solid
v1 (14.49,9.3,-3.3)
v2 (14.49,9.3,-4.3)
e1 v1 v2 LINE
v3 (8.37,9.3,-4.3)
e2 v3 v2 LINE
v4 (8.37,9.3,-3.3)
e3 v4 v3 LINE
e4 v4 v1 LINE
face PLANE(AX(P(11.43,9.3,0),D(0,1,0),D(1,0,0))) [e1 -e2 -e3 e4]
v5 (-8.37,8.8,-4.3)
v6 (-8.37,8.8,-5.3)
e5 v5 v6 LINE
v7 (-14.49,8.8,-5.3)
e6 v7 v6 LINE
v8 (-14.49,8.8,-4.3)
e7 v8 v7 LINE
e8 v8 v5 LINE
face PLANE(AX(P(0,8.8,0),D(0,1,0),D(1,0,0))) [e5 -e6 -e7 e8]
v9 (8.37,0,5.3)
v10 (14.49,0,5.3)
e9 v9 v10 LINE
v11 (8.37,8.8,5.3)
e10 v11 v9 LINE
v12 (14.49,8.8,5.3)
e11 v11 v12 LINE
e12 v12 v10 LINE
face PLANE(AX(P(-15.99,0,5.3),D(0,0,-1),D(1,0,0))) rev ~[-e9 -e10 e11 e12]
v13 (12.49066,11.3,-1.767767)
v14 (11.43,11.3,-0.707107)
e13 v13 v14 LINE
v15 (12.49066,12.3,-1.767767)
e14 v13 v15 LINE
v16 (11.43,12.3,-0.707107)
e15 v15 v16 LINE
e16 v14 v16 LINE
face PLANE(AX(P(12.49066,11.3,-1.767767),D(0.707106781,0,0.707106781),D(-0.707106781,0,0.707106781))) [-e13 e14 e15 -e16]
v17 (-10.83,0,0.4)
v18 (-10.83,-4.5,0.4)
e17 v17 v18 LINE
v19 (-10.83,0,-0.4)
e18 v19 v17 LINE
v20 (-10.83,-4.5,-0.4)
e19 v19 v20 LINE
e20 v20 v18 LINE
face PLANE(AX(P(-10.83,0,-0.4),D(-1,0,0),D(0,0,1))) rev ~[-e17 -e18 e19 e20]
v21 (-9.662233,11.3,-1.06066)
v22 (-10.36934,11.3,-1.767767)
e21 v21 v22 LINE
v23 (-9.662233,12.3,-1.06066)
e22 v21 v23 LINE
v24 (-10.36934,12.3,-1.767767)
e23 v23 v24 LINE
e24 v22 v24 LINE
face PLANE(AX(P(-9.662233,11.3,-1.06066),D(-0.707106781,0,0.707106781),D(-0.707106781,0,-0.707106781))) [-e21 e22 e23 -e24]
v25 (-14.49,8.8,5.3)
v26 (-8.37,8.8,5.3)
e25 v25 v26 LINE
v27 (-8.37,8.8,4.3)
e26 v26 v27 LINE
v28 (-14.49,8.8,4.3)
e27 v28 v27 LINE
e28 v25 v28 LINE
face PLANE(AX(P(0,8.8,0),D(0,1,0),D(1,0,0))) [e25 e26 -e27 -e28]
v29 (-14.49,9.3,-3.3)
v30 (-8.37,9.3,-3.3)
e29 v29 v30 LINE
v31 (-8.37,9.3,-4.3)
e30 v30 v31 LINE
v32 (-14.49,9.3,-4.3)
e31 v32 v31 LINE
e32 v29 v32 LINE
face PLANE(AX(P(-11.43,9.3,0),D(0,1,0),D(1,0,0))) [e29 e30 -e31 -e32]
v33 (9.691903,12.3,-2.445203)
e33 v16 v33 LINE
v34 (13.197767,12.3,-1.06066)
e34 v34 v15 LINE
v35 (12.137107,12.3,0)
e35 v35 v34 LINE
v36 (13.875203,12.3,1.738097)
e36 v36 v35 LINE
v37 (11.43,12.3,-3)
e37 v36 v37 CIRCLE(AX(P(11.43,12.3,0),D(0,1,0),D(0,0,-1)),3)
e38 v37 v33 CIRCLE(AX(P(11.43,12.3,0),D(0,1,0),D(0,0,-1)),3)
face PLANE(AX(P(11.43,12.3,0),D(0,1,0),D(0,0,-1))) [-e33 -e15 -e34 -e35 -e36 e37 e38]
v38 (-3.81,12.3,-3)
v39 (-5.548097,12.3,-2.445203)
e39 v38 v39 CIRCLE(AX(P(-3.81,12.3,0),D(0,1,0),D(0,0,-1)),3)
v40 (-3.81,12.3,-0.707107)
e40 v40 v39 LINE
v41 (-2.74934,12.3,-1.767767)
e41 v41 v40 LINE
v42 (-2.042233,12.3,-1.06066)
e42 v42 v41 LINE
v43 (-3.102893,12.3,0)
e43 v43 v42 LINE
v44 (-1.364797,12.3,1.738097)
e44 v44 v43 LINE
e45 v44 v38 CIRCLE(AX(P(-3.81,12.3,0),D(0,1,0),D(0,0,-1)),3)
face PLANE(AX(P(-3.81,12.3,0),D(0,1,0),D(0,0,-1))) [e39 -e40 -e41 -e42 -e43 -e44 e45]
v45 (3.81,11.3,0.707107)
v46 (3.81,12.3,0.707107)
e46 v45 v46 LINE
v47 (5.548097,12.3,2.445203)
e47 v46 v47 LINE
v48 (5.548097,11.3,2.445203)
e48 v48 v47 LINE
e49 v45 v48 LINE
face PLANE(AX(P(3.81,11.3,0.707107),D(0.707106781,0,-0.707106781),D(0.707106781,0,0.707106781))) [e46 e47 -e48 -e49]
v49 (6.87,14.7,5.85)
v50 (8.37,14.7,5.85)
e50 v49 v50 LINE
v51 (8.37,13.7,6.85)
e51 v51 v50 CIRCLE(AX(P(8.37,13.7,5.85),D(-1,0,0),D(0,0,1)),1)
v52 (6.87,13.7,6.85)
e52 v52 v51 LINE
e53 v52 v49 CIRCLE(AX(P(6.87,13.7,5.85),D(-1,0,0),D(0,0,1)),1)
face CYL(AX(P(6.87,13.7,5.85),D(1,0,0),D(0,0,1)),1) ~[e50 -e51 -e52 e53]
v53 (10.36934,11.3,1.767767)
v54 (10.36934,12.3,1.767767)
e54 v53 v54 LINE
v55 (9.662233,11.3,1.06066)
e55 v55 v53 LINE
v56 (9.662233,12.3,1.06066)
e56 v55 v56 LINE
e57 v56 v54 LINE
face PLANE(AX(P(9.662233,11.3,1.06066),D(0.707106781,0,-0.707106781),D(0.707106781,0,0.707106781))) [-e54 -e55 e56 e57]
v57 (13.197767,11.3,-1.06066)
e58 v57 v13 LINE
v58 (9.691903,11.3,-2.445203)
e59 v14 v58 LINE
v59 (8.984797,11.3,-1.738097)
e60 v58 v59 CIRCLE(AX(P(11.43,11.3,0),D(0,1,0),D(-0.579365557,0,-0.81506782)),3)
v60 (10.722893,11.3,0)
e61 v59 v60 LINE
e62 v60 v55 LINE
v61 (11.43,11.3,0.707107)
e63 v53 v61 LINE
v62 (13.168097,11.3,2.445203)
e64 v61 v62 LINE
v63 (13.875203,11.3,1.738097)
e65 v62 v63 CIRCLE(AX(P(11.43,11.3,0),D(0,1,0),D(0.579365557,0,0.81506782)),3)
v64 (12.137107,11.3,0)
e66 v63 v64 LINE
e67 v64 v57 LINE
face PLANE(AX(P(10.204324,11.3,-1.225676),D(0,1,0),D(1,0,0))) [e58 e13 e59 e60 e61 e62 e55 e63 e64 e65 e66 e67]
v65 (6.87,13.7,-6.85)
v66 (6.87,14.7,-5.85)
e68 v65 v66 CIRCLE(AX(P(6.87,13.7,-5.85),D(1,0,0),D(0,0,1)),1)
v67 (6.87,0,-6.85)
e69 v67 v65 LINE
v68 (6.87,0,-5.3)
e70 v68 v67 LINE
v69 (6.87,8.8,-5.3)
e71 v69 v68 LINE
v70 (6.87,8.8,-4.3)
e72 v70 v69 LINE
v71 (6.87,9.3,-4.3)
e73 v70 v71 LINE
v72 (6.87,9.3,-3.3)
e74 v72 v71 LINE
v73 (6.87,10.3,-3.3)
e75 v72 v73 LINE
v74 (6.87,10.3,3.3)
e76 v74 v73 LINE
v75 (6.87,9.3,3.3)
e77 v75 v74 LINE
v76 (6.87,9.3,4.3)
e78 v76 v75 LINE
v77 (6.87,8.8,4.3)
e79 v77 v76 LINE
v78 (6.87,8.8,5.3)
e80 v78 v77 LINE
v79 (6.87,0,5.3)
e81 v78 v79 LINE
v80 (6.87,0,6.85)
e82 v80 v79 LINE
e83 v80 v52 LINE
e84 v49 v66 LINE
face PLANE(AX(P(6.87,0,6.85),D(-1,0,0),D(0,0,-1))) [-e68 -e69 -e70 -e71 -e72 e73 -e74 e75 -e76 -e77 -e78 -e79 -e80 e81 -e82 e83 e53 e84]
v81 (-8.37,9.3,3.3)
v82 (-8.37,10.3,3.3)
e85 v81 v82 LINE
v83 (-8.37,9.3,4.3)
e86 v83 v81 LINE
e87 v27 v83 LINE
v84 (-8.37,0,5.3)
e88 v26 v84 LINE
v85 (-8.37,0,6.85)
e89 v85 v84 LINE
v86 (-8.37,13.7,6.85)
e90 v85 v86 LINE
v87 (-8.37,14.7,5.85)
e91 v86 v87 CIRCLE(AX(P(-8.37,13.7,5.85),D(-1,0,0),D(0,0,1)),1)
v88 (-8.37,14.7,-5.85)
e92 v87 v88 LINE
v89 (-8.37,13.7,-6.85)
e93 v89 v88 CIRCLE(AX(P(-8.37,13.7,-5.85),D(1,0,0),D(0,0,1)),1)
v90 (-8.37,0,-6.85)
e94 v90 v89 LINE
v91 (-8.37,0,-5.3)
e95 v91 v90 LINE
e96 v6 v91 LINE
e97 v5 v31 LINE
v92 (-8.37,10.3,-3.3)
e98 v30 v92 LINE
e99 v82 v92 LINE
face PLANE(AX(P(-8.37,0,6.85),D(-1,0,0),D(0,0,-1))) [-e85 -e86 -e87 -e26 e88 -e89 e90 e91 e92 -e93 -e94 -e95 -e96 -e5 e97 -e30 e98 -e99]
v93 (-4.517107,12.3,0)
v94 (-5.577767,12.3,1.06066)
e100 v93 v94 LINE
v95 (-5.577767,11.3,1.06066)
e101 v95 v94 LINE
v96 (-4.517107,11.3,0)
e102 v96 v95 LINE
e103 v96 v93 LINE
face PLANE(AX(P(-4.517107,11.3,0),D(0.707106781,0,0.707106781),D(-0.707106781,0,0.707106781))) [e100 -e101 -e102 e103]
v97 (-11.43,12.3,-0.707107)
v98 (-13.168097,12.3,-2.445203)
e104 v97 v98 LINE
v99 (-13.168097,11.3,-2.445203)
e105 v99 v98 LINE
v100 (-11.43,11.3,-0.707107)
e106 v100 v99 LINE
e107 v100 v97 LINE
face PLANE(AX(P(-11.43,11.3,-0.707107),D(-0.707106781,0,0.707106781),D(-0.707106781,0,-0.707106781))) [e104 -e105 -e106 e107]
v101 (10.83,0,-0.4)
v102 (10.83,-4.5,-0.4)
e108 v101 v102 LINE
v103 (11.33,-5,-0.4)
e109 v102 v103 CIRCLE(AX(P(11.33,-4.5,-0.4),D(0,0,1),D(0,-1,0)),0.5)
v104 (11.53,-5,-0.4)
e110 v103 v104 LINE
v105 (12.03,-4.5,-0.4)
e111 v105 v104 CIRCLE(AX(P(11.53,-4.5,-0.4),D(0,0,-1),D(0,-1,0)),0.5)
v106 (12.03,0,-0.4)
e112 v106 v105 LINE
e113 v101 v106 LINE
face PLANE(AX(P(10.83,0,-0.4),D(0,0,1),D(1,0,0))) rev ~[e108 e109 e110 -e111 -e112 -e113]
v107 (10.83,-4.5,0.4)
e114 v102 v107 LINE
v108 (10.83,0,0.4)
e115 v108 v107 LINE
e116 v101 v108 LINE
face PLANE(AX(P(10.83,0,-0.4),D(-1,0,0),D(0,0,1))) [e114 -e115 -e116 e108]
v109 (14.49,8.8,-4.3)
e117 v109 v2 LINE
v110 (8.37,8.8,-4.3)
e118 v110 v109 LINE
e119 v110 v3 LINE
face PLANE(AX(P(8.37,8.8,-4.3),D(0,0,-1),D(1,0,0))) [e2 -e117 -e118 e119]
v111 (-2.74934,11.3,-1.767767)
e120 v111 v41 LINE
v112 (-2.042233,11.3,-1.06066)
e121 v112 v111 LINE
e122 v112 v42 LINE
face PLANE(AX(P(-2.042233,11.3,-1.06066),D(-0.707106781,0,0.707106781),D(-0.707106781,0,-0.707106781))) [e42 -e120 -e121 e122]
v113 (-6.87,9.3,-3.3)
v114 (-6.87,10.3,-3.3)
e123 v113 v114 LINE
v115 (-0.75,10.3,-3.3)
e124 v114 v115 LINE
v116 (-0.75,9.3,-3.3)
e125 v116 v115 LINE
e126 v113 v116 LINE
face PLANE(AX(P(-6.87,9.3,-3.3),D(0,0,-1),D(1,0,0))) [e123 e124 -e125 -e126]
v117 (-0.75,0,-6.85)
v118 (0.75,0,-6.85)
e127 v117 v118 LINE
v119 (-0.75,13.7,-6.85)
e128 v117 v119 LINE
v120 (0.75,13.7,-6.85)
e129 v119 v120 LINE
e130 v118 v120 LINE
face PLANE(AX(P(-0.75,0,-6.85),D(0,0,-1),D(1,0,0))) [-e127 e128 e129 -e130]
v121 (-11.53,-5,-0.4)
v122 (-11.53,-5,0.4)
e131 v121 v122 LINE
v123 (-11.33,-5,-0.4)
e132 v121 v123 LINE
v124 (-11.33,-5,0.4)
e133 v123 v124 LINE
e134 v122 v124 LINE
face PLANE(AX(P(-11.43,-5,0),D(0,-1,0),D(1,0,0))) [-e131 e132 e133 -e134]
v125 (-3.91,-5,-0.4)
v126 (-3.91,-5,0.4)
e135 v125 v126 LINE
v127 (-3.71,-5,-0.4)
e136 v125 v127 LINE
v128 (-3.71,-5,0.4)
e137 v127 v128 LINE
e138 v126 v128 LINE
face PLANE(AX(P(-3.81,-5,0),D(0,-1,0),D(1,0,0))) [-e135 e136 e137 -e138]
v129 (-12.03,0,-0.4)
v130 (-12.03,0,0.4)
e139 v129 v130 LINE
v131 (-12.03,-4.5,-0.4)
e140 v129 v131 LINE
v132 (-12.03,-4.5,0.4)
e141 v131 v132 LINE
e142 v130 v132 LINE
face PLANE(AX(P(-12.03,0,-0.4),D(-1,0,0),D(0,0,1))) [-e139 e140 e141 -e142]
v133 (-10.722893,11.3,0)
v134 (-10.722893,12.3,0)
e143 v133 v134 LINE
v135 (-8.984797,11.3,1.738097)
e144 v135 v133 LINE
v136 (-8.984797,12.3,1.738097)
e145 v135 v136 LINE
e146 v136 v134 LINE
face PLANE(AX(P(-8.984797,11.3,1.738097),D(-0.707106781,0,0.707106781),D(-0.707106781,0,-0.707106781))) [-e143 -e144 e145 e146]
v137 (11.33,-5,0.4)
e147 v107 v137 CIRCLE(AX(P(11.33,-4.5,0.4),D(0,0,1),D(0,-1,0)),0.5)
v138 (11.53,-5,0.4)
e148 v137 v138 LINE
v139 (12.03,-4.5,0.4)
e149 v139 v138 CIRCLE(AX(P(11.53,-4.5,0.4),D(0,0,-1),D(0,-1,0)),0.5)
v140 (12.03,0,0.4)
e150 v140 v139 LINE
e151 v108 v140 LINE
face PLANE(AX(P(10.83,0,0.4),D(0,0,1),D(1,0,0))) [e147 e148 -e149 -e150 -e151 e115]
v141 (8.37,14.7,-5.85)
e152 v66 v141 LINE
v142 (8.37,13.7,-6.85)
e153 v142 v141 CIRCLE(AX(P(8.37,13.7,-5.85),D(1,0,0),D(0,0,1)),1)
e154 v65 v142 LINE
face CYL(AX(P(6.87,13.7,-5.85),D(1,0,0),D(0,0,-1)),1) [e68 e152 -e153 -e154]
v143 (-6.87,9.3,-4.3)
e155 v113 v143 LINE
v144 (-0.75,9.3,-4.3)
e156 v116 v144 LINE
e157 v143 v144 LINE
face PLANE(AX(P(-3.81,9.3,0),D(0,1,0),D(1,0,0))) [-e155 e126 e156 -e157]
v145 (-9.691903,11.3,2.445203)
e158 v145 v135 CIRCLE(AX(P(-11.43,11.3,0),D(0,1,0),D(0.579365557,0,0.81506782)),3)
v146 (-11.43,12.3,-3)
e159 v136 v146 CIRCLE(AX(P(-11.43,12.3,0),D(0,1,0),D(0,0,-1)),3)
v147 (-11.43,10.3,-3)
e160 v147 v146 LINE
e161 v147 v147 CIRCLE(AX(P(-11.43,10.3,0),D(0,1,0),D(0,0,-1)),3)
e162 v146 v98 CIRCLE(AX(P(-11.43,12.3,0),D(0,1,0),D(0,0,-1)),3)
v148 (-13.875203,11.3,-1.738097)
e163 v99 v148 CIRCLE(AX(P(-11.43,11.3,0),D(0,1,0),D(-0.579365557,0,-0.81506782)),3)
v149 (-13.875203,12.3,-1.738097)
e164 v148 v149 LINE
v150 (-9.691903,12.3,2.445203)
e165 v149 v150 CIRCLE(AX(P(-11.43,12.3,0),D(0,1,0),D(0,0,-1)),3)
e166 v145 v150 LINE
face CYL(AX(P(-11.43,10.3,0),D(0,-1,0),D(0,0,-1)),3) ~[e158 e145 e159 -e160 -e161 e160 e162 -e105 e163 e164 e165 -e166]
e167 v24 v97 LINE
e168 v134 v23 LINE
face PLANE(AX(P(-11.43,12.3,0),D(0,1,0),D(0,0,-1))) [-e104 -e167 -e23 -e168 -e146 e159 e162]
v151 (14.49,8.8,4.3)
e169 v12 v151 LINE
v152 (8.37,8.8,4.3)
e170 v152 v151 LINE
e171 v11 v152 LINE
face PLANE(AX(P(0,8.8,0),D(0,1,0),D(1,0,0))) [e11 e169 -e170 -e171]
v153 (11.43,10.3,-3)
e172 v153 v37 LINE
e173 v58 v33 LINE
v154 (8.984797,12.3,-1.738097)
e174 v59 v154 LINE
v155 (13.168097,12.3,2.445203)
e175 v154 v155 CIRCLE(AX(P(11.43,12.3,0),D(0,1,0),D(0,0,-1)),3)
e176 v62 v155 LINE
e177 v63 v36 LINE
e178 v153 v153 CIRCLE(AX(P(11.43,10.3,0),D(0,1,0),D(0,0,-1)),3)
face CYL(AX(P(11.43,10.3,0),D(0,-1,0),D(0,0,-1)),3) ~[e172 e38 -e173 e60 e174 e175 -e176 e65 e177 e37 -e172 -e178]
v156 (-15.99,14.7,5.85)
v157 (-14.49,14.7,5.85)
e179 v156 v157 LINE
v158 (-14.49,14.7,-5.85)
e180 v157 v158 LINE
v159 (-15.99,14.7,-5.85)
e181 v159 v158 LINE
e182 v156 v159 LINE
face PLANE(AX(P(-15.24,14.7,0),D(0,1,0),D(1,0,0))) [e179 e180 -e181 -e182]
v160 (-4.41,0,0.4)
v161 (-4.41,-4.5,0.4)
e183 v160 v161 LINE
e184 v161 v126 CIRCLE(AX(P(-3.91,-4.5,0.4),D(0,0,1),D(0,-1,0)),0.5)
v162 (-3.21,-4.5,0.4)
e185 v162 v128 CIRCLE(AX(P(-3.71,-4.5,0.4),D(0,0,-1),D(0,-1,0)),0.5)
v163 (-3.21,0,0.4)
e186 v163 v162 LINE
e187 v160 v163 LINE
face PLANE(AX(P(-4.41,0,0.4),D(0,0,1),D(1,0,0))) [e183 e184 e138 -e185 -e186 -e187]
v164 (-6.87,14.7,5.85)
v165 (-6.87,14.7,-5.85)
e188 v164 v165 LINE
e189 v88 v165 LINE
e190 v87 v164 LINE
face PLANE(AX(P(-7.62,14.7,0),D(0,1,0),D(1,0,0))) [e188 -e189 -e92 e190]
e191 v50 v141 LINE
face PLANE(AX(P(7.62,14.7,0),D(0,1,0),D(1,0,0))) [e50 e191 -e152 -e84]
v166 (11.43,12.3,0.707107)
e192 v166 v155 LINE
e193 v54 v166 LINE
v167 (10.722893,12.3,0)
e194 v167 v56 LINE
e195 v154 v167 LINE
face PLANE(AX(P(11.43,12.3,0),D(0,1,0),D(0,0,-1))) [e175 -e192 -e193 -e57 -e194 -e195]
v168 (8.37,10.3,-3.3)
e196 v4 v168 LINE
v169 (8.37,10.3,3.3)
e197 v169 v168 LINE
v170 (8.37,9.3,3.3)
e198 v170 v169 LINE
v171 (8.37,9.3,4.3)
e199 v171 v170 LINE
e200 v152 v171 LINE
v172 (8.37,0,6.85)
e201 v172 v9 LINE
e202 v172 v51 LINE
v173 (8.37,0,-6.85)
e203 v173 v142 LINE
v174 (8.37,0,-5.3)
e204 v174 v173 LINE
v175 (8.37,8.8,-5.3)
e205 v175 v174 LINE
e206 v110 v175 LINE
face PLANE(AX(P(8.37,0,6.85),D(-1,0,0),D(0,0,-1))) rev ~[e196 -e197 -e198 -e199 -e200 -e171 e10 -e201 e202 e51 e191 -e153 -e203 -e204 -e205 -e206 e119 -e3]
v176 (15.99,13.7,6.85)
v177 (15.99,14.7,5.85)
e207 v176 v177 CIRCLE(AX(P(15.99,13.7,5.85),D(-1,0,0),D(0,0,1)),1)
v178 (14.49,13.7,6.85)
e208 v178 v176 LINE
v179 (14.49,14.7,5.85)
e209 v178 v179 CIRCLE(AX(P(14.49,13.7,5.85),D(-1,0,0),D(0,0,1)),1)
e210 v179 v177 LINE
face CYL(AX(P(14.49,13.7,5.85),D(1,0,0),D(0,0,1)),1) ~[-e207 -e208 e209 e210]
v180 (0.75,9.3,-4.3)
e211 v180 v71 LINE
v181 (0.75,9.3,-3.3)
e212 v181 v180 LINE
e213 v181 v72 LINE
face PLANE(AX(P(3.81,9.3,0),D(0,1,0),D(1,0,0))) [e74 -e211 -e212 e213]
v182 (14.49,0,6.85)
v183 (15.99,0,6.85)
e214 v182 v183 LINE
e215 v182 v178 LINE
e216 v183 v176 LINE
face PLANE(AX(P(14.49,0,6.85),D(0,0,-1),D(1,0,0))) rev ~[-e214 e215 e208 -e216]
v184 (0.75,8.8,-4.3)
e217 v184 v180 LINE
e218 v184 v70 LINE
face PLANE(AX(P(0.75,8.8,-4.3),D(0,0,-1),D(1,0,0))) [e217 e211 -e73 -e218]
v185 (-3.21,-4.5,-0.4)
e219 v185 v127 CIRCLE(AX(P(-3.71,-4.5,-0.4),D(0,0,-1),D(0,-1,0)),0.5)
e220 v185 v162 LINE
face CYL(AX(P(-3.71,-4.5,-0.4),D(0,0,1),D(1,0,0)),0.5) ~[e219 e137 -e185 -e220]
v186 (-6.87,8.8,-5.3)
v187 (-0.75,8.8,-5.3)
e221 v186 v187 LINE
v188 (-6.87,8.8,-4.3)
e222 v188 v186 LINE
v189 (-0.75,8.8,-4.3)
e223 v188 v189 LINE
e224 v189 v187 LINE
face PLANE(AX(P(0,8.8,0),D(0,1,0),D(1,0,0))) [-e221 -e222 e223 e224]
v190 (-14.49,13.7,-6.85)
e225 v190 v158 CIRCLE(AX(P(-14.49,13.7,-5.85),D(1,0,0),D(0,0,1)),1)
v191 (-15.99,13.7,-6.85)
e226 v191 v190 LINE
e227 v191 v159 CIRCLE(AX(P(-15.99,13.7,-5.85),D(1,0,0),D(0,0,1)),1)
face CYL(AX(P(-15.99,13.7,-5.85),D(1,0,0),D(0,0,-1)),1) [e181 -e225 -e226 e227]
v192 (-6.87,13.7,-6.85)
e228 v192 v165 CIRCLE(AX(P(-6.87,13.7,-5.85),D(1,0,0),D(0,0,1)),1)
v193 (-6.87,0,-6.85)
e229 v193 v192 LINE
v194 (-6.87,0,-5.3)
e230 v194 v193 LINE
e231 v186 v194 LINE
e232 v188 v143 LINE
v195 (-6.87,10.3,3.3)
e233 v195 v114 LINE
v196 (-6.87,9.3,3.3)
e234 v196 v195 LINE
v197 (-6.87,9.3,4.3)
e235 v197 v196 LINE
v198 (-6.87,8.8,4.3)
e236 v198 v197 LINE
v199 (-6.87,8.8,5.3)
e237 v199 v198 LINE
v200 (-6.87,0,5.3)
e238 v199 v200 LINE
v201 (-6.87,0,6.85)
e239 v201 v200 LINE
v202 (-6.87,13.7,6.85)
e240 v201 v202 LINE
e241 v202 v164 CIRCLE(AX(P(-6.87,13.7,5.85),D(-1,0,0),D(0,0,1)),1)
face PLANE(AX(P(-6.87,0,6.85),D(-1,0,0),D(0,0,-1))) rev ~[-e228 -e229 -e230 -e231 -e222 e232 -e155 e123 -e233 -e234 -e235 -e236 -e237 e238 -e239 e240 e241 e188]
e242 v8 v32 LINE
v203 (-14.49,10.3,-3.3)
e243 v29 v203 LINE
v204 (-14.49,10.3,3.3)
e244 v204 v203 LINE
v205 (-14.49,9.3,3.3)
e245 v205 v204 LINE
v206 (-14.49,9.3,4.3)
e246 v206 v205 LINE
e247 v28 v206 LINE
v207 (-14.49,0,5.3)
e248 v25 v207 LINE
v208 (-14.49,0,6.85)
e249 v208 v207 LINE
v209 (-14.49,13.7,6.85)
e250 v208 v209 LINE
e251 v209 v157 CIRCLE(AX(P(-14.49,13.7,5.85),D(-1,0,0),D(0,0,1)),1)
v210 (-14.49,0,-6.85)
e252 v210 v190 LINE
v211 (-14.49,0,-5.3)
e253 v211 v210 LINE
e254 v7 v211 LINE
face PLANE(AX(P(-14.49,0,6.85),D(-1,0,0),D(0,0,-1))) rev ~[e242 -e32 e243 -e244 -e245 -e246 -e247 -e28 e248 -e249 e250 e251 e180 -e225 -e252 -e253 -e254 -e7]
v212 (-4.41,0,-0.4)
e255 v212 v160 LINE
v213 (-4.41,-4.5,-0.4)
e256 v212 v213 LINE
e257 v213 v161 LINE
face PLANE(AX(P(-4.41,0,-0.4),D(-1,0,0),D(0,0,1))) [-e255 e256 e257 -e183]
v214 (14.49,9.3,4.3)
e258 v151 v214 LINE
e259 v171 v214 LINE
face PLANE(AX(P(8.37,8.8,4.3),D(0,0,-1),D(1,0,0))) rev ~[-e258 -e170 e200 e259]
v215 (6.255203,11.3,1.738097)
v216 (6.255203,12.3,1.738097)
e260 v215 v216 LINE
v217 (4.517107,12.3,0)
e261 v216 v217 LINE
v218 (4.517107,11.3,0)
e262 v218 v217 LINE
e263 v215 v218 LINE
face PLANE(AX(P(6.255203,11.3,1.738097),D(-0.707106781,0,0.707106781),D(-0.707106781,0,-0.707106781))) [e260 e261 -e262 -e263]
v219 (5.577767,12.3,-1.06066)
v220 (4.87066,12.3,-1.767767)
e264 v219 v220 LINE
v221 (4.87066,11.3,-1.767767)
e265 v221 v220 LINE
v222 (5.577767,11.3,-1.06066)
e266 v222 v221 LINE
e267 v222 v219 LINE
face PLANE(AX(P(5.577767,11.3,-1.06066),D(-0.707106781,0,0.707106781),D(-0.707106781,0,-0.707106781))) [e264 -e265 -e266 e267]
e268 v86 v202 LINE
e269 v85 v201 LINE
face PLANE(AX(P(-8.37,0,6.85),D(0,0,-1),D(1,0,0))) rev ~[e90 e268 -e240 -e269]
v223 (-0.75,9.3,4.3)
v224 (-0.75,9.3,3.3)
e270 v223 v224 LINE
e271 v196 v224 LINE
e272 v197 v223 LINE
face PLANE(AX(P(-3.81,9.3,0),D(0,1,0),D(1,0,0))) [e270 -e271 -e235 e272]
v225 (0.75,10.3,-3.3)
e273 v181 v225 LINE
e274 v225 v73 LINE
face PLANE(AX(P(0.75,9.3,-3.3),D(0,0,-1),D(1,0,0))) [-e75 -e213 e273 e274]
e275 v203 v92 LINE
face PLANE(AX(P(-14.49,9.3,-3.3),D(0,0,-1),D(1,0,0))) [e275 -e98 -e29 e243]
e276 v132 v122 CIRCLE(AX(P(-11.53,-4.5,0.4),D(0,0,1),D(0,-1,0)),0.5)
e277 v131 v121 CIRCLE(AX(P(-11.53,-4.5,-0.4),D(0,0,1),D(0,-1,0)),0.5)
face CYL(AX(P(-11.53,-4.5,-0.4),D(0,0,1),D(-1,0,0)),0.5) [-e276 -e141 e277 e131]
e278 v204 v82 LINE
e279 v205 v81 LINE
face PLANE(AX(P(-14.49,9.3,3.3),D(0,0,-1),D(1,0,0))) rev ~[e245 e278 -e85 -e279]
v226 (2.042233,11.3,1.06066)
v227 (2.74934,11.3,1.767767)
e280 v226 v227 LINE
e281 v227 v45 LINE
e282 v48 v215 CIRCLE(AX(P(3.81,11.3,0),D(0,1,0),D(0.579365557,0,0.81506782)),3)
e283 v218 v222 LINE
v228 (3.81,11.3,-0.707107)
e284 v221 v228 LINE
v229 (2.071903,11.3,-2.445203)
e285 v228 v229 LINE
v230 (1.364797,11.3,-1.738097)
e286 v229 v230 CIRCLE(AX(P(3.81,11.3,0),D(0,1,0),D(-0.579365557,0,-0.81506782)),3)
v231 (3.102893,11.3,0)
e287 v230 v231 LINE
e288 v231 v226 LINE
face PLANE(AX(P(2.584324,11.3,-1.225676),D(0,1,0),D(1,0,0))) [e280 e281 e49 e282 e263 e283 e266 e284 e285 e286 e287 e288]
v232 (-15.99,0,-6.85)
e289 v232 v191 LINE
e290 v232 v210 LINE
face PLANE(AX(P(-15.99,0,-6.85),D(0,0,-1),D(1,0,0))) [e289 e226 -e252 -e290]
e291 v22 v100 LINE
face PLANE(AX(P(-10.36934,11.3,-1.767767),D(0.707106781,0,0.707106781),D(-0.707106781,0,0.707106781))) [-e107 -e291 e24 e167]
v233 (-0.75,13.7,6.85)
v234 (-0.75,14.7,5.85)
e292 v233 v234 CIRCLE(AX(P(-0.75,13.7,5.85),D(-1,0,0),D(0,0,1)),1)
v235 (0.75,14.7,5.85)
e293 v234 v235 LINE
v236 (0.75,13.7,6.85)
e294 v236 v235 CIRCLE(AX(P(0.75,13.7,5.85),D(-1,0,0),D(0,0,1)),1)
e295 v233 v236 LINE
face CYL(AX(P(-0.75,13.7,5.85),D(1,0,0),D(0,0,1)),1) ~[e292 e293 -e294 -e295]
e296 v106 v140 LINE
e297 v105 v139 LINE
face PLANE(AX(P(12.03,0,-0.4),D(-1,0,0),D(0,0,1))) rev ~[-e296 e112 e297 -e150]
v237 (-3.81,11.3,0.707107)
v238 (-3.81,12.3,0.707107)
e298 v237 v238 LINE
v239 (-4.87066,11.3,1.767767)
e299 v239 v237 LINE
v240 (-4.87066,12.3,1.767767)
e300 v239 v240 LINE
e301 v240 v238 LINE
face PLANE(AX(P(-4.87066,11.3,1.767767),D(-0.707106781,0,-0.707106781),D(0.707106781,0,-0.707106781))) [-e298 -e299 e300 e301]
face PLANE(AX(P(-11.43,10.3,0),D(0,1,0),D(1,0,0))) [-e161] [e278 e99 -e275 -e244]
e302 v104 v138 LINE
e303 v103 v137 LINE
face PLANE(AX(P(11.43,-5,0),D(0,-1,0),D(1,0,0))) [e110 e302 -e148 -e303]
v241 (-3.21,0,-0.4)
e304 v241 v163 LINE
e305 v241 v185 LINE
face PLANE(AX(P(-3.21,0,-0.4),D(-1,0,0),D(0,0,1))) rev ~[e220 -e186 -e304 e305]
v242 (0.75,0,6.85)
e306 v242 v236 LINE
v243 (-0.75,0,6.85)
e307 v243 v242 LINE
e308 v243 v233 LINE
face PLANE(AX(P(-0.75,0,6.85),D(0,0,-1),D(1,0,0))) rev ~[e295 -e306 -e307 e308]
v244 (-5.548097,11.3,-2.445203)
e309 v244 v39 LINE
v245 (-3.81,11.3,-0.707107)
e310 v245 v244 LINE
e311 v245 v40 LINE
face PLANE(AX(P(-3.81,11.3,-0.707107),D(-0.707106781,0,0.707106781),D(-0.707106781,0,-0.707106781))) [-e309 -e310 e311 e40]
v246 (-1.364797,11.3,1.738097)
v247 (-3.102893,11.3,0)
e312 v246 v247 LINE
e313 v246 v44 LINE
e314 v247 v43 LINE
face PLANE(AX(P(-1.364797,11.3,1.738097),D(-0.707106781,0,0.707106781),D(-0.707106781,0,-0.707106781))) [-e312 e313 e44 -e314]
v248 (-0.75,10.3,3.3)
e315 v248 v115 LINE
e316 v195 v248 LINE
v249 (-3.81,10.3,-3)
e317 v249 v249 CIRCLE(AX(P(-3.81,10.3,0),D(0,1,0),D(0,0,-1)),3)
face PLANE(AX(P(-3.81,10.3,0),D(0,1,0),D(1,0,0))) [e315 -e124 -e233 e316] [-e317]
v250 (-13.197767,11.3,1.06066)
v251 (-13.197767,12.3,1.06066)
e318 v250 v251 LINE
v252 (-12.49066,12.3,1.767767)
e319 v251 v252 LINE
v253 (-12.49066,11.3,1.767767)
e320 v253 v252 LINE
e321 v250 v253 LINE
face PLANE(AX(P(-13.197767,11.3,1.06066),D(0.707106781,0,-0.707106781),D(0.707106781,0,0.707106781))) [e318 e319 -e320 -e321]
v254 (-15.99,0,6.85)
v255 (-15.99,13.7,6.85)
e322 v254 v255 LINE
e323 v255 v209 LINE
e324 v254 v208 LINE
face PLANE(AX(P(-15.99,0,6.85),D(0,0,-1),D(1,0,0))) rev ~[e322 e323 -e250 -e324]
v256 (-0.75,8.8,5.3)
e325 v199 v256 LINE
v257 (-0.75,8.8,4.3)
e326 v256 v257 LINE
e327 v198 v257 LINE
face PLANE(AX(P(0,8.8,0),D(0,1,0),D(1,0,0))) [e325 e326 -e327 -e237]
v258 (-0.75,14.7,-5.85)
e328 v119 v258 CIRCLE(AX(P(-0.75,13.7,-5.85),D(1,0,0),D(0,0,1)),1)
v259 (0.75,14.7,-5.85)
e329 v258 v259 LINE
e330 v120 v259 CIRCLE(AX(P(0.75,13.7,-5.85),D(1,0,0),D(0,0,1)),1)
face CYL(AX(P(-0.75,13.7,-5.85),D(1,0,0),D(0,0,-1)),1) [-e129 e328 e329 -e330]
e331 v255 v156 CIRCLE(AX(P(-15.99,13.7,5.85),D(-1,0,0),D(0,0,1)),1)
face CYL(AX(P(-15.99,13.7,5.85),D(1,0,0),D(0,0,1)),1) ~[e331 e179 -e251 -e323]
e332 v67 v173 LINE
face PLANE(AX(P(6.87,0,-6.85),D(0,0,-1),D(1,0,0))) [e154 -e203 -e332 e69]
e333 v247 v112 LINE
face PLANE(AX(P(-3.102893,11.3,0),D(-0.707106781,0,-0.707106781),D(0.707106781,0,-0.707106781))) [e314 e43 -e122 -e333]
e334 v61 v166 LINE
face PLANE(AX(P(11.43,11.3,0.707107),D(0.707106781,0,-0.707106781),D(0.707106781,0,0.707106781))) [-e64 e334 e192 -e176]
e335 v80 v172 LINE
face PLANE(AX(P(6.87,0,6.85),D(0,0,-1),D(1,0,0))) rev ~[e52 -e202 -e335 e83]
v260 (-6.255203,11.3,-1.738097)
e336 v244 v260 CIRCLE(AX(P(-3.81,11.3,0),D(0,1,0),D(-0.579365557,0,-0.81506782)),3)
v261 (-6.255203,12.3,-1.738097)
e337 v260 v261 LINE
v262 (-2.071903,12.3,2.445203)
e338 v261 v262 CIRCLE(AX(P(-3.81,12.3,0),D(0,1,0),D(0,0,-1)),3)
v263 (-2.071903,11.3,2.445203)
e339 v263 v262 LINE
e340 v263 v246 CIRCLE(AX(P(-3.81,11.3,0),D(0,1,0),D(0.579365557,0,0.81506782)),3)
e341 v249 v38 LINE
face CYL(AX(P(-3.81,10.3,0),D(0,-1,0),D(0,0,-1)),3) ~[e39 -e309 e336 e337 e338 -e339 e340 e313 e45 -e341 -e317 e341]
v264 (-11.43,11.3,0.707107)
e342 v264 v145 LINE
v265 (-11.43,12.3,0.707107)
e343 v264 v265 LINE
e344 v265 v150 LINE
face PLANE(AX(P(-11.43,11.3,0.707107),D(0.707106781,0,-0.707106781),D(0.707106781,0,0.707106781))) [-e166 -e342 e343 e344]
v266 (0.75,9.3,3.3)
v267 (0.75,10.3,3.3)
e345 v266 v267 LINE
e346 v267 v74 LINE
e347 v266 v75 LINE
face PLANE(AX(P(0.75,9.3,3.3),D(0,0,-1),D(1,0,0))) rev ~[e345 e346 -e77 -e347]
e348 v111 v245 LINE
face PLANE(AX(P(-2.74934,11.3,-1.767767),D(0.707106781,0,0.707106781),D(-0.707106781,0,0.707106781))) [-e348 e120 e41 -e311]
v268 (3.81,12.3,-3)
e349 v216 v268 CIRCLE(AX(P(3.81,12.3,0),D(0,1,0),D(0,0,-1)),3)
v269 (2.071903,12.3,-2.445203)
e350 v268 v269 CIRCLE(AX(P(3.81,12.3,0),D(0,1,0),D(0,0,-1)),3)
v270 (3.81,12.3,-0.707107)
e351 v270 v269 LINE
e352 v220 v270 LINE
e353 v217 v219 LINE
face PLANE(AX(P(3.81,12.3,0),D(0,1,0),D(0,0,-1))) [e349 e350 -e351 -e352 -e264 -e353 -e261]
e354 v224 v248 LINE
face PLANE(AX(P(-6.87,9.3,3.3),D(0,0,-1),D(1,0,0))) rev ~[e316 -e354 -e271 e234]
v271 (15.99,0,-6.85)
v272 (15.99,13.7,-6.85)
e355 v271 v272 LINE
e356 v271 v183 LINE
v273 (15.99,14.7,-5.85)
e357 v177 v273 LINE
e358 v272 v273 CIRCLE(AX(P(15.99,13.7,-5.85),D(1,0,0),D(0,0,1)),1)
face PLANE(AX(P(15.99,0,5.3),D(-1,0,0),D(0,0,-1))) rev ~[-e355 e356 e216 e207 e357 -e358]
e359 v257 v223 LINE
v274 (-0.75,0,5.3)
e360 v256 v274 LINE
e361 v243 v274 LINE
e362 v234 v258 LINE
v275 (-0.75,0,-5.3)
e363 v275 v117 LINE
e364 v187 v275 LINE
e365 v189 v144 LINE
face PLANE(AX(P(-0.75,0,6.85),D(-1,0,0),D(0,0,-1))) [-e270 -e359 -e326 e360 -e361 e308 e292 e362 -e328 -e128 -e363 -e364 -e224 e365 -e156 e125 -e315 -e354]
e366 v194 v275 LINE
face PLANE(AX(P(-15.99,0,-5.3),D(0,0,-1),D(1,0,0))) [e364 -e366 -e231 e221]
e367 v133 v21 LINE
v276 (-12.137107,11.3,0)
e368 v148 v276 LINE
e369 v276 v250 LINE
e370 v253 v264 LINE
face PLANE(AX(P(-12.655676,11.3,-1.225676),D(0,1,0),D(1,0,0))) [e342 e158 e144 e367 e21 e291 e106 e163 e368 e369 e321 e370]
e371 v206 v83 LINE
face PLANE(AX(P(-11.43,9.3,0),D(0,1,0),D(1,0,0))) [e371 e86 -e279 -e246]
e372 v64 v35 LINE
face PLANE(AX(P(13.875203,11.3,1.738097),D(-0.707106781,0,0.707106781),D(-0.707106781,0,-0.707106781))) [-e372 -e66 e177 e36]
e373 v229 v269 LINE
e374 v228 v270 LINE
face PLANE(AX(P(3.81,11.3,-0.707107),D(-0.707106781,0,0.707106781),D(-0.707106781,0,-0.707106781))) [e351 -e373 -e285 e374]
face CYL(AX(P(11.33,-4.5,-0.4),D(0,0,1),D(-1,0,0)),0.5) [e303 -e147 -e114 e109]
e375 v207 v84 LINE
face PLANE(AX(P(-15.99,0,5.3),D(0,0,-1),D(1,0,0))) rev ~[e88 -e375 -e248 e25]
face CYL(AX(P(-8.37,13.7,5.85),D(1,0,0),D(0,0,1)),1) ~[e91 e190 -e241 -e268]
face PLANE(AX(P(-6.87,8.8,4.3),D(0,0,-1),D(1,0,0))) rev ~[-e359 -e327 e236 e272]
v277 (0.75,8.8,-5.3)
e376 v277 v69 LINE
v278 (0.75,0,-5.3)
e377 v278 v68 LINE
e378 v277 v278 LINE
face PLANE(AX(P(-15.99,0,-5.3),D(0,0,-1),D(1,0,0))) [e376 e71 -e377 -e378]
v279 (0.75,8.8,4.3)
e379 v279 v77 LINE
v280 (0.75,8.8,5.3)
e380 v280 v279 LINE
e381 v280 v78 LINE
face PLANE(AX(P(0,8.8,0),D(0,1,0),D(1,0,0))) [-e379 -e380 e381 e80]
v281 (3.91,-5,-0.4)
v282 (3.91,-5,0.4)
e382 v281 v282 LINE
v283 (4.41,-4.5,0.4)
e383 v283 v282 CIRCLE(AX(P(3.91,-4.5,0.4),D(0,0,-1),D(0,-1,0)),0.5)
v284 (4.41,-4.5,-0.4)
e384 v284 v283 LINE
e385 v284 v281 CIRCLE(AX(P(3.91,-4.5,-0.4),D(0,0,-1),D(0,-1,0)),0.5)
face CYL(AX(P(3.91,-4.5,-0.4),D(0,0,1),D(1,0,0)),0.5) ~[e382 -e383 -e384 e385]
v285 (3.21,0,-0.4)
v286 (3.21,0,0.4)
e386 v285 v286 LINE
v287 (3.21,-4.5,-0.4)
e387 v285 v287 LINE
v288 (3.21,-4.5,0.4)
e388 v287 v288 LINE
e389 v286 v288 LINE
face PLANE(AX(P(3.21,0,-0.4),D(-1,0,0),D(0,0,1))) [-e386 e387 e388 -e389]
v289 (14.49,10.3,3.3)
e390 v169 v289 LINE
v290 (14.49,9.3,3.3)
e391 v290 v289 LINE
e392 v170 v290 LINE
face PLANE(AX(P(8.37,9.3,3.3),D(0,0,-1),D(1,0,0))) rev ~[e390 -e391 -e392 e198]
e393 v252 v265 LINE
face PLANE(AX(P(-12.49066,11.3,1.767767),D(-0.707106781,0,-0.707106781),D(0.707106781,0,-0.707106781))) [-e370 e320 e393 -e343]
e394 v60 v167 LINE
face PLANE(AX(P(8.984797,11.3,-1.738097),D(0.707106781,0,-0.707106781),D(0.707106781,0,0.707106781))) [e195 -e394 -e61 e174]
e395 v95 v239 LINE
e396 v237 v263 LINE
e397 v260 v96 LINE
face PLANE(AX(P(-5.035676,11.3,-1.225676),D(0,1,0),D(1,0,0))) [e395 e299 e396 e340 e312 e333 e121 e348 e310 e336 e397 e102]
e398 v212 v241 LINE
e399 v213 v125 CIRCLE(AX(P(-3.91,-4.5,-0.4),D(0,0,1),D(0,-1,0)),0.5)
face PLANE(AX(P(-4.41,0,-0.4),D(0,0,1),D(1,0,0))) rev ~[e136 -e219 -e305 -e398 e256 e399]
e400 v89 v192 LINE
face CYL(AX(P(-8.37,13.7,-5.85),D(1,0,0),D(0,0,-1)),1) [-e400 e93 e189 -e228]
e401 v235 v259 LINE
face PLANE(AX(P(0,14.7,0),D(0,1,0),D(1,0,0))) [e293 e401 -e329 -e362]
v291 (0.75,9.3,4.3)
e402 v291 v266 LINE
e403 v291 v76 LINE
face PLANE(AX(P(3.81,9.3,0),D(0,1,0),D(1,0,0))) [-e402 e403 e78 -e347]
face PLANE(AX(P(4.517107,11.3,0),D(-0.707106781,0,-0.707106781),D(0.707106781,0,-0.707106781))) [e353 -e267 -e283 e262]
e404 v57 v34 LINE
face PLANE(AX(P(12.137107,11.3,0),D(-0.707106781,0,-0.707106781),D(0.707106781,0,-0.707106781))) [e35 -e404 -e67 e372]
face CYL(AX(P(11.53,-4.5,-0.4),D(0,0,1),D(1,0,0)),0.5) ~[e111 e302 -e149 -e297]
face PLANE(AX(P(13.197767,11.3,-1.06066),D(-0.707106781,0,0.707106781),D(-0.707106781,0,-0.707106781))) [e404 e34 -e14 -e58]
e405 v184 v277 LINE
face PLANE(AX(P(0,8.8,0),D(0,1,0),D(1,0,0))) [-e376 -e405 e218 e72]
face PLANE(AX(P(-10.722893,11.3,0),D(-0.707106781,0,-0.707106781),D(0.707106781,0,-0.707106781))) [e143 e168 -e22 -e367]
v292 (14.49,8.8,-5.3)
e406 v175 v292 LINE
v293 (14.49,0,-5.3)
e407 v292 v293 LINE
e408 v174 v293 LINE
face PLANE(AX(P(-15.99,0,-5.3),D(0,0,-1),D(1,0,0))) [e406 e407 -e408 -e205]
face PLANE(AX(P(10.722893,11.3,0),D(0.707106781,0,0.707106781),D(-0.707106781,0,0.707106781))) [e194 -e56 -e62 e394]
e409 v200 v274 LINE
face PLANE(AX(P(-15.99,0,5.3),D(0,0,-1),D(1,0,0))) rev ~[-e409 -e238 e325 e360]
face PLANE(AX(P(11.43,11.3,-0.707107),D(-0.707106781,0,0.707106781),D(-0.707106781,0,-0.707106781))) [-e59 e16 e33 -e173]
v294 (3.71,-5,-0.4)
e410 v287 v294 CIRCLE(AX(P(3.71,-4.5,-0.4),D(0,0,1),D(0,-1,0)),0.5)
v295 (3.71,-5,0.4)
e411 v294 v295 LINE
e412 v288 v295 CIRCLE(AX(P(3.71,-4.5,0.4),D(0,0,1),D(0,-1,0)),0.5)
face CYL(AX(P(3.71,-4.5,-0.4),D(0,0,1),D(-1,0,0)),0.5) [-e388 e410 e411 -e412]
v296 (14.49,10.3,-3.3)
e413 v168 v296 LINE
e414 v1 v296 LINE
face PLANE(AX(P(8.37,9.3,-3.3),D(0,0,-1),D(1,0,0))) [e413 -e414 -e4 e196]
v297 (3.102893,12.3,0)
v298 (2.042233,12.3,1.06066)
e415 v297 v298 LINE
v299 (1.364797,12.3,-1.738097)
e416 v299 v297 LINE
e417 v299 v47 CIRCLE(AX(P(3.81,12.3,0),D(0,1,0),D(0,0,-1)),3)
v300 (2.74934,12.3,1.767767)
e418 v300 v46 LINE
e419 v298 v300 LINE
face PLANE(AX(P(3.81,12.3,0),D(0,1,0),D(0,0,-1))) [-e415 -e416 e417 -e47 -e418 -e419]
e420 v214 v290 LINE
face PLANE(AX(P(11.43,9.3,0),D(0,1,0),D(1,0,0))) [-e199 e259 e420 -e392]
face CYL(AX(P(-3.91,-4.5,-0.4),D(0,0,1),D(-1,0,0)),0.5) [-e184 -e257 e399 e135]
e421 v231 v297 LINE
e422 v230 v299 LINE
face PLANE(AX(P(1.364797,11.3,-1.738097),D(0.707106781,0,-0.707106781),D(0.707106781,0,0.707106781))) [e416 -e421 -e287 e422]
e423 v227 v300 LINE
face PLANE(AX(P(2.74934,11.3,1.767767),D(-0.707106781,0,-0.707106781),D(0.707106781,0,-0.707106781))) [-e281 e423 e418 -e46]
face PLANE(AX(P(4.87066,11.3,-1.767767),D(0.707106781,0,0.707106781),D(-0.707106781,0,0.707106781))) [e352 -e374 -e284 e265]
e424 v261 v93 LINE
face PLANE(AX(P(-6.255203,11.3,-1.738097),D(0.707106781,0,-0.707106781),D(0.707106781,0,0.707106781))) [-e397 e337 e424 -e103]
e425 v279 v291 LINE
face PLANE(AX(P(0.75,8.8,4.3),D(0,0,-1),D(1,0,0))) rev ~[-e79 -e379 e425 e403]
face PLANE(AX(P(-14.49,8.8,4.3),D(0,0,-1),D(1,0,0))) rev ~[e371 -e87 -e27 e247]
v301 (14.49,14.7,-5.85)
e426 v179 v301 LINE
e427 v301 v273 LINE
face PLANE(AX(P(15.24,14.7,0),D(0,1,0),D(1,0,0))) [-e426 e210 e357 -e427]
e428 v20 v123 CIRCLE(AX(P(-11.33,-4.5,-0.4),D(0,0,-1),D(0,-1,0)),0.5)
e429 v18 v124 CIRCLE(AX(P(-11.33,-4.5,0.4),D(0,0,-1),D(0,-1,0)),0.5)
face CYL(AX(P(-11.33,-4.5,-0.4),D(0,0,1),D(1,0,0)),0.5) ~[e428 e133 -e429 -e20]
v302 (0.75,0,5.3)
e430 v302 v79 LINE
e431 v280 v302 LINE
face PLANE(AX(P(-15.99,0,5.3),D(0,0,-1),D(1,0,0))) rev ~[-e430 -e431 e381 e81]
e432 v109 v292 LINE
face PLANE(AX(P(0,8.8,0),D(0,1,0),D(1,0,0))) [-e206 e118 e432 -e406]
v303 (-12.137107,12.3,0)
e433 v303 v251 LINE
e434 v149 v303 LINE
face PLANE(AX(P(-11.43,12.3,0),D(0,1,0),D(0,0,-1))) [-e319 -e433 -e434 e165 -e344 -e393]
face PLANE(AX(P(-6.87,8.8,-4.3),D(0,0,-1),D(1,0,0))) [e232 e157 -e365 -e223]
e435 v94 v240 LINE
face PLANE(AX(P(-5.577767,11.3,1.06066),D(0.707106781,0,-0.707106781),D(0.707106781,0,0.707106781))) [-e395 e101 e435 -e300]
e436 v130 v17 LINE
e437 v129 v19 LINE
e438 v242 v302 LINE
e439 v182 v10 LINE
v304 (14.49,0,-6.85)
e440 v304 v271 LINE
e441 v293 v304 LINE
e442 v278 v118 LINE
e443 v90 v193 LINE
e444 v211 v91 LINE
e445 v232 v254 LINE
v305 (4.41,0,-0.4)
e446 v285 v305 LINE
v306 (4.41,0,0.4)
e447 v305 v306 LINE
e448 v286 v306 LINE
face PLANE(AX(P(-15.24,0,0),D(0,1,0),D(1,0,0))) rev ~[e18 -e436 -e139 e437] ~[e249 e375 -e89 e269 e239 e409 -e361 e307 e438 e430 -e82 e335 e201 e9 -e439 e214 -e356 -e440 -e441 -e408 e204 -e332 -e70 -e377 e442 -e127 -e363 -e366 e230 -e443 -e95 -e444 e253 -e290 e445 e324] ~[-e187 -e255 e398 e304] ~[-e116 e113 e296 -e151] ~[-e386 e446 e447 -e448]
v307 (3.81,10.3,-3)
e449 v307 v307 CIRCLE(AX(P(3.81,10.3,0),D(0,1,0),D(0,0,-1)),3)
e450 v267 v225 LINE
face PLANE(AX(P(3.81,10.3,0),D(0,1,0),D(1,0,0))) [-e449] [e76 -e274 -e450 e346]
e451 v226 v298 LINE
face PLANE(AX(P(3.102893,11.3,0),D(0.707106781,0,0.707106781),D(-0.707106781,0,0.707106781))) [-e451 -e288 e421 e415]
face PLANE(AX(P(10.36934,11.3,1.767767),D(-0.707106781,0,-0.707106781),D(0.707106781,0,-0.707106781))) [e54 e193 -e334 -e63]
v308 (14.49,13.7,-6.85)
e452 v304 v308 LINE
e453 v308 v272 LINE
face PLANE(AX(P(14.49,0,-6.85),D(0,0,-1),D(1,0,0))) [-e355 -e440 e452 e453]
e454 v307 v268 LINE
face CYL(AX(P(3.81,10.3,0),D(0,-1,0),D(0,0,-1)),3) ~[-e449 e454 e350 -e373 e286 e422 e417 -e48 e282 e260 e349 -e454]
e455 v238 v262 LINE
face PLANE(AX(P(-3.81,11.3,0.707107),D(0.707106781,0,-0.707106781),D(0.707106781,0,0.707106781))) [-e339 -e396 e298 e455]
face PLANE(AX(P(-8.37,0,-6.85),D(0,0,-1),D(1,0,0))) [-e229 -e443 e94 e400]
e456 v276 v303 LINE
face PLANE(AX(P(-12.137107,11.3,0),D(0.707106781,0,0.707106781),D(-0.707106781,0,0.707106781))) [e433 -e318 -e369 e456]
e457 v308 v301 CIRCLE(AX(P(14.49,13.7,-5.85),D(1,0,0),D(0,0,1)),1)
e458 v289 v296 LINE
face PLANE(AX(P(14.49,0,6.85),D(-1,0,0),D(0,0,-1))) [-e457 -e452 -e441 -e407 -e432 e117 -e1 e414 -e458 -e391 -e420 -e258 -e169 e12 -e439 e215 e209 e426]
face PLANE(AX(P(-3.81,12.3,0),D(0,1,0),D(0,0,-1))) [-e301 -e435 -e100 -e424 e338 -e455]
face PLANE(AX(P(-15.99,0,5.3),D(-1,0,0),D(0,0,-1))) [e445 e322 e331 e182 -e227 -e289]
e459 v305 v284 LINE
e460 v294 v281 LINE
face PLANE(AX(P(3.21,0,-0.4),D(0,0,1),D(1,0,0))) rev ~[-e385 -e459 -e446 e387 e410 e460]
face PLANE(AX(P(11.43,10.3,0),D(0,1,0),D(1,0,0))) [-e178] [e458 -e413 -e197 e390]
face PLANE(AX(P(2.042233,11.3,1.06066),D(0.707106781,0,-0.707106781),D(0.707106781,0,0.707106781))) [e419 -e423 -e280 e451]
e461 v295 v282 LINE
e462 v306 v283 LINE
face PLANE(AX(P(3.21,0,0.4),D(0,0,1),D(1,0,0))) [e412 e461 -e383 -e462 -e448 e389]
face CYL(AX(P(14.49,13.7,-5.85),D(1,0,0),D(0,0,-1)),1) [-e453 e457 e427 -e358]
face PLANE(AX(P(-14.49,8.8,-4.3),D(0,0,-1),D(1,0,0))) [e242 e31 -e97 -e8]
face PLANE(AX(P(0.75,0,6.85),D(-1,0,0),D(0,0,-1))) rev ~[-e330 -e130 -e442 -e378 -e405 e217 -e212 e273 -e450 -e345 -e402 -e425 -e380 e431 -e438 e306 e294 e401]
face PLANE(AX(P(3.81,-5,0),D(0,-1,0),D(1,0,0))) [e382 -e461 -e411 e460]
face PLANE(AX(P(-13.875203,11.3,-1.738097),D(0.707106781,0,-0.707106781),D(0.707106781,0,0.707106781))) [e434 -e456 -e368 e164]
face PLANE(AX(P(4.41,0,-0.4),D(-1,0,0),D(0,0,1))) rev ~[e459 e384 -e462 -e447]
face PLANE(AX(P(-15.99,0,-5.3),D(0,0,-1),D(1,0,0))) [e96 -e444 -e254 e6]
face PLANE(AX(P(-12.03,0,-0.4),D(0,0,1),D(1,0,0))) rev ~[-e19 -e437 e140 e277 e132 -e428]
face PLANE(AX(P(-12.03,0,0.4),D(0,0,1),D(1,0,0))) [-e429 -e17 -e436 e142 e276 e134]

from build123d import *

# Parameters (mm, degrees)
CROQUIS1_W                  = 1.5
CROQUIS1_H                  = 13.7
SALIENTE_EXTRUIR1_DEPTH     = 14.7
REDONDEO1_R                 = 1
MATRIZL1_COUNT              = 3
MATRIZL1_PITCH              = 7.62
MATRIZL1_2_COUNT            = 3
MATRIZL1_2_PITCH            = 7.62
CROQUIS2_W                  = 31.98
CROQUIS2_H                  = 10.6
SALIENTE_EXTRUIR2_DEPTH     = 8.8
CROQUIS4_W                  = 1.2
CROQUIS4_H                  = 0.8
SALIENTE_EXTRUIR5_DEPTH     = 5
REDONDEO4_R                 = 0.5
MATRIZL2_COUNT              = 2
MATRIZL2_PITCH              = 7.62
REDONDEO4_OF_MATRIZL2_R     = 0.5
MATRIZL2_COL_COUNT          = 3
MATRIZL2_COL_PITCH          = 7.62
REDONDEO4_OF_MATRIZL2_COL_R = 0.5
CROQUIS5_W                  = 6.12
CROQUIS5_H                  = 8.6
SALIENTE_EXTRUIR6_DEPTH     = 0.5
CROQUIS6_W                  = 6.12
CROQUIS6_H                  = 6.6
SALIENTE_EXTRUIR7_DEPTH     = 1
CROQUIS7_R                  = 3
SALIENTE_EXTRUIR14_DEPTH    = 2
CORTAR_EXTRUIR2_START       = -1
CORTAR_EXTRUIR2_DEPTH       = 1
MATRIZL3_COUNT              = 2
MATRIZL3_PITCH              = 7.62
MATRIZL3_COL_COUNT          = 3
MATRIZL3_COL_PITCH          = 7.62


with BuildPart() as part:
    # Croquis1 → Saliente-Extruir1 (new body)
    with BuildSketch(Plane(origin=(0, 0, 0), x_dir=(1, 0, 0), z_dir=(0, 1, 0))):
        Rectangle(CROQUIS1_W, CROQUIS1_H)
    extrude(amount=SALIENTE_EXTRUIR1_DEPTH)

    # Redondeo1
    redondeo1_edges = [part.edges().sort_by_distance(p)[0] for p in [
        (0, 14.7, 6.85),
        (0, 14.7, -6.85),
    ]]
    fillet(redondeo1_edges, radius=REDONDEO1_R)


with BuildPart() as matrizl1_1:
    # MatrizL1: pattern copy
    add(part.part.moved(Location(Vector(1, 0, 0) * (1 * MATRIZL1_PITCH))))


with BuildPart() as matrizl1_2:
    # MatrizL1: pattern copy
    add(part.part.moved(Location(Vector(1, 0, 0) * (2 * MATRIZL1_PITCH))))


with BuildPart() as matrizl1_2_1:
    # MatrizL1 2: pattern copy
    add(part.part.moved(Location(Vector(-1, 0, 0) * (1 * MATRIZL1_2_PITCH))))


with BuildPart() as matrizl1_2_2:
    # MatrizL1 2: pattern copy
    add(part.part.moved(Location(Vector(-1, 0, 0) * (2 * MATRIZL1_2_PITCH))))


with BuildPart() as part_1:
    add(part.part)

    add(matrizl1_1.part)  # Saliente-Extruir2 merges MatrizL1_1

    add(matrizl1_2.part)  # Saliente-Extruir2 merges MatrizL1_2

    add(matrizl1_2_1.part)  # Saliente-Extruir2 merges MatrizL1 2_1

    add(matrizl1_2_2.part)  # Saliente-Extruir2 merges MatrizL1 2_2
    # Croquis2 → Saliente-Extruir2 (add)
    with BuildSketch(Plane(origin=(0, 0, 0), x_dir=(1, 0, 0), z_dir=(0, 1, 0))):
        Rectangle(CROQUIS2_W, CROQUIS2_H)
    extrude(amount=SALIENTE_EXTRUIR2_DEPTH)

    # Croquis4 → Saliente-Extruir5 (add)
    with BuildSketch(Plane.XZ):
        with Locations((-3.81, 0)):
            Rectangle(CROQUIS4_W, CROQUIS4_H)
    saliente_extruir5 = extrude(amount=SALIENTE_EXTRUIR5_DEPTH)

    # Redondeo4
    redondeo4_edges = [part_1.edges().sort_by_distance(p)[0] for p in [
        (-3.21, -5, 0),
        (-4.41, -5, 0),
    ]]
    fillet(redondeo4_edges, radius=REDONDEO4_R)

    # MatrizL2: Saliente-Extruir5 ×2
    with Locations(*[(-i * MATRIZL2_PITCH, 0, 0) for i in range(1, MATRIZL2_COUNT)]):
        add(saliente_extruir5)

    # Redondeo4 of MatrizL2
    redondeo4_of_matrizl2_edges = [part_1.edges().sort_by_distance(p)[0] for p in [
        (-10.83, -5, 0),
        (-12.03, -5, 0),
    ]]
    fillet(redondeo4_of_matrizl2_edges, radius=REDONDEO4_OF_MATRIZL2_R)

    # MatrizL2 col: Saliente-Extruir5 ×3
    with Locations(*[(i * MATRIZL2_COL_PITCH, 0, 0) for i in range(1, MATRIZL2_COL_COUNT)]):
        add(saliente_extruir5)

    # Redondeo4 of MatrizL2 col
    redondeo4_of_matrizl2_col_edges = [part_1.edges().sort_by_distance(p)[0] for p in [
        (4.41, -5, 0),
        (3.21, -5, 0),
        (12.03, -5, 0),
        (10.83, -5, 0),
    ]]
    fillet(redondeo4_of_matrizl2_col_edges, radius=REDONDEO4_OF_MATRIZL2_COL_R)

    # Croquis5 → Saliente-Extruir6 (add)
    with BuildSketch(Plane(origin=(0, 8.8, 0), x_dir=(1, 0, 0), z_dir=(0, 1, 0))):
        with Locations((-3.81, 0)):
            Rectangle(CROQUIS5_W, CROQUIS5_H)
    saliente_extruir6 = extrude(amount=SALIENTE_EXTRUIR6_DEPTH)

    # Croquis6 → Saliente-Extruir7 (add)
    with BuildSketch(Plane(origin=(0, 9.3, 0), x_dir=(1, 0, 0), z_dir=(0, 1, 0))):
        with Locations((-3.81, 0)):
            Rectangle(CROQUIS6_W, CROQUIS6_H)
    saliente_extruir7 = extrude(amount=SALIENTE_EXTRUIR7_DEPTH)

    # Croquis7 → Saliente-Extruir14 (add)
    with BuildSketch(Plane(origin=(0, 10.3, 0), x_dir=(1, 0, 0), z_dir=(0, 1, 0))):
        with Locations(Location((-3.81, 0, 0), (0, 0, 90))):
            Circle(CROQUIS7_R)
    saliente_extruir14 = extrude(amount=SALIENTE_EXTRUIR14_DEPTH)

    # Croquis13 → Cortar-Extruir2 (cut)
    with BuildSketch(Plane(origin=(0, 12.3, 0), x_dir=(1, 0, 0), z_dir=(0, 1, 0)).offset(CORTAR_EXTRUIR2_START)):
        with BuildLine():
            ThreePointArc((-5.548096676, 2.445203457), (-5.931320344, 2.121320344), (-6.255203457, 1.738096676))
            Line((-6.255203457, 1.738096676), (-4.517106781, 0))
            Line((-4.517106781, 0), (-3.81, 0.707106781))
            Line((-3.81, 0.707106781), (-5.548096676, 2.445203457))
        make_face()
        Polygon((-3.81, 0.707106781), (-3.102893219, 0), (-2.042233047, 1.060660172), (-2.749339828, 1.767766953), align=None)
        Polygon((-4.870660172, -1.767766953), (-3.81, -0.707106781), (-4.517106781, 0), (-5.577766953, -1.060660172), align=None)
        Polygon((-4.517106781, 0), (-3.81, -0.707106781), (-3.102893219, 0), (-3.81, 0.707106781), align=None)
        with BuildLine():
            Line((-3.81, -0.707106781), (-2.071903324, -2.445203457))
            ThreePointArc((-2.071903324, -2.445203457), (-1.688679656, -2.121320344), (-1.364796543, -1.738096676))
            Line((-1.364796543, -1.738096676), (-3.102893219, 0))
            Line((-3.102893219, 0), (-3.81, -0.707106781))
        make_face()
    cortar_extruir2 = extrude(amount=CORTAR_EXTRUIR2_DEPTH, mode=Mode.SUBTRACT)

    # MatrizL3: Saliente-Extruir6, Saliente-Extruir7, Saliente-Extruir14, Cortar-Extruir2 ×2
    with Locations(*[(-i * MATRIZL3_PITCH, 0, 0) for i in range(1, MATRIZL3_COUNT)]):
        add(saliente_extruir6)
        add(saliente_extruir7)
        add(saliente_extruir14)
        add(cortar_extruir2, mode=Mode.SUBTRACT)

    # MatrizL3 col: Saliente-Extruir6, Saliente-Extruir7, Saliente-Extruir14, Cortar-Extruir2 ×3
    with Locations(*[(i * MATRIZL3_COL_PITCH, 0, 0) for i in range(1, MATRIZL3_COL_COUNT)]):
        add(saliente_extruir6)
        add(saliente_extruir7)
        add(saliente_extruir14)
        add(cortar_extruir2, mode=Mode.SUBTRACT)


solid = part_1.part
